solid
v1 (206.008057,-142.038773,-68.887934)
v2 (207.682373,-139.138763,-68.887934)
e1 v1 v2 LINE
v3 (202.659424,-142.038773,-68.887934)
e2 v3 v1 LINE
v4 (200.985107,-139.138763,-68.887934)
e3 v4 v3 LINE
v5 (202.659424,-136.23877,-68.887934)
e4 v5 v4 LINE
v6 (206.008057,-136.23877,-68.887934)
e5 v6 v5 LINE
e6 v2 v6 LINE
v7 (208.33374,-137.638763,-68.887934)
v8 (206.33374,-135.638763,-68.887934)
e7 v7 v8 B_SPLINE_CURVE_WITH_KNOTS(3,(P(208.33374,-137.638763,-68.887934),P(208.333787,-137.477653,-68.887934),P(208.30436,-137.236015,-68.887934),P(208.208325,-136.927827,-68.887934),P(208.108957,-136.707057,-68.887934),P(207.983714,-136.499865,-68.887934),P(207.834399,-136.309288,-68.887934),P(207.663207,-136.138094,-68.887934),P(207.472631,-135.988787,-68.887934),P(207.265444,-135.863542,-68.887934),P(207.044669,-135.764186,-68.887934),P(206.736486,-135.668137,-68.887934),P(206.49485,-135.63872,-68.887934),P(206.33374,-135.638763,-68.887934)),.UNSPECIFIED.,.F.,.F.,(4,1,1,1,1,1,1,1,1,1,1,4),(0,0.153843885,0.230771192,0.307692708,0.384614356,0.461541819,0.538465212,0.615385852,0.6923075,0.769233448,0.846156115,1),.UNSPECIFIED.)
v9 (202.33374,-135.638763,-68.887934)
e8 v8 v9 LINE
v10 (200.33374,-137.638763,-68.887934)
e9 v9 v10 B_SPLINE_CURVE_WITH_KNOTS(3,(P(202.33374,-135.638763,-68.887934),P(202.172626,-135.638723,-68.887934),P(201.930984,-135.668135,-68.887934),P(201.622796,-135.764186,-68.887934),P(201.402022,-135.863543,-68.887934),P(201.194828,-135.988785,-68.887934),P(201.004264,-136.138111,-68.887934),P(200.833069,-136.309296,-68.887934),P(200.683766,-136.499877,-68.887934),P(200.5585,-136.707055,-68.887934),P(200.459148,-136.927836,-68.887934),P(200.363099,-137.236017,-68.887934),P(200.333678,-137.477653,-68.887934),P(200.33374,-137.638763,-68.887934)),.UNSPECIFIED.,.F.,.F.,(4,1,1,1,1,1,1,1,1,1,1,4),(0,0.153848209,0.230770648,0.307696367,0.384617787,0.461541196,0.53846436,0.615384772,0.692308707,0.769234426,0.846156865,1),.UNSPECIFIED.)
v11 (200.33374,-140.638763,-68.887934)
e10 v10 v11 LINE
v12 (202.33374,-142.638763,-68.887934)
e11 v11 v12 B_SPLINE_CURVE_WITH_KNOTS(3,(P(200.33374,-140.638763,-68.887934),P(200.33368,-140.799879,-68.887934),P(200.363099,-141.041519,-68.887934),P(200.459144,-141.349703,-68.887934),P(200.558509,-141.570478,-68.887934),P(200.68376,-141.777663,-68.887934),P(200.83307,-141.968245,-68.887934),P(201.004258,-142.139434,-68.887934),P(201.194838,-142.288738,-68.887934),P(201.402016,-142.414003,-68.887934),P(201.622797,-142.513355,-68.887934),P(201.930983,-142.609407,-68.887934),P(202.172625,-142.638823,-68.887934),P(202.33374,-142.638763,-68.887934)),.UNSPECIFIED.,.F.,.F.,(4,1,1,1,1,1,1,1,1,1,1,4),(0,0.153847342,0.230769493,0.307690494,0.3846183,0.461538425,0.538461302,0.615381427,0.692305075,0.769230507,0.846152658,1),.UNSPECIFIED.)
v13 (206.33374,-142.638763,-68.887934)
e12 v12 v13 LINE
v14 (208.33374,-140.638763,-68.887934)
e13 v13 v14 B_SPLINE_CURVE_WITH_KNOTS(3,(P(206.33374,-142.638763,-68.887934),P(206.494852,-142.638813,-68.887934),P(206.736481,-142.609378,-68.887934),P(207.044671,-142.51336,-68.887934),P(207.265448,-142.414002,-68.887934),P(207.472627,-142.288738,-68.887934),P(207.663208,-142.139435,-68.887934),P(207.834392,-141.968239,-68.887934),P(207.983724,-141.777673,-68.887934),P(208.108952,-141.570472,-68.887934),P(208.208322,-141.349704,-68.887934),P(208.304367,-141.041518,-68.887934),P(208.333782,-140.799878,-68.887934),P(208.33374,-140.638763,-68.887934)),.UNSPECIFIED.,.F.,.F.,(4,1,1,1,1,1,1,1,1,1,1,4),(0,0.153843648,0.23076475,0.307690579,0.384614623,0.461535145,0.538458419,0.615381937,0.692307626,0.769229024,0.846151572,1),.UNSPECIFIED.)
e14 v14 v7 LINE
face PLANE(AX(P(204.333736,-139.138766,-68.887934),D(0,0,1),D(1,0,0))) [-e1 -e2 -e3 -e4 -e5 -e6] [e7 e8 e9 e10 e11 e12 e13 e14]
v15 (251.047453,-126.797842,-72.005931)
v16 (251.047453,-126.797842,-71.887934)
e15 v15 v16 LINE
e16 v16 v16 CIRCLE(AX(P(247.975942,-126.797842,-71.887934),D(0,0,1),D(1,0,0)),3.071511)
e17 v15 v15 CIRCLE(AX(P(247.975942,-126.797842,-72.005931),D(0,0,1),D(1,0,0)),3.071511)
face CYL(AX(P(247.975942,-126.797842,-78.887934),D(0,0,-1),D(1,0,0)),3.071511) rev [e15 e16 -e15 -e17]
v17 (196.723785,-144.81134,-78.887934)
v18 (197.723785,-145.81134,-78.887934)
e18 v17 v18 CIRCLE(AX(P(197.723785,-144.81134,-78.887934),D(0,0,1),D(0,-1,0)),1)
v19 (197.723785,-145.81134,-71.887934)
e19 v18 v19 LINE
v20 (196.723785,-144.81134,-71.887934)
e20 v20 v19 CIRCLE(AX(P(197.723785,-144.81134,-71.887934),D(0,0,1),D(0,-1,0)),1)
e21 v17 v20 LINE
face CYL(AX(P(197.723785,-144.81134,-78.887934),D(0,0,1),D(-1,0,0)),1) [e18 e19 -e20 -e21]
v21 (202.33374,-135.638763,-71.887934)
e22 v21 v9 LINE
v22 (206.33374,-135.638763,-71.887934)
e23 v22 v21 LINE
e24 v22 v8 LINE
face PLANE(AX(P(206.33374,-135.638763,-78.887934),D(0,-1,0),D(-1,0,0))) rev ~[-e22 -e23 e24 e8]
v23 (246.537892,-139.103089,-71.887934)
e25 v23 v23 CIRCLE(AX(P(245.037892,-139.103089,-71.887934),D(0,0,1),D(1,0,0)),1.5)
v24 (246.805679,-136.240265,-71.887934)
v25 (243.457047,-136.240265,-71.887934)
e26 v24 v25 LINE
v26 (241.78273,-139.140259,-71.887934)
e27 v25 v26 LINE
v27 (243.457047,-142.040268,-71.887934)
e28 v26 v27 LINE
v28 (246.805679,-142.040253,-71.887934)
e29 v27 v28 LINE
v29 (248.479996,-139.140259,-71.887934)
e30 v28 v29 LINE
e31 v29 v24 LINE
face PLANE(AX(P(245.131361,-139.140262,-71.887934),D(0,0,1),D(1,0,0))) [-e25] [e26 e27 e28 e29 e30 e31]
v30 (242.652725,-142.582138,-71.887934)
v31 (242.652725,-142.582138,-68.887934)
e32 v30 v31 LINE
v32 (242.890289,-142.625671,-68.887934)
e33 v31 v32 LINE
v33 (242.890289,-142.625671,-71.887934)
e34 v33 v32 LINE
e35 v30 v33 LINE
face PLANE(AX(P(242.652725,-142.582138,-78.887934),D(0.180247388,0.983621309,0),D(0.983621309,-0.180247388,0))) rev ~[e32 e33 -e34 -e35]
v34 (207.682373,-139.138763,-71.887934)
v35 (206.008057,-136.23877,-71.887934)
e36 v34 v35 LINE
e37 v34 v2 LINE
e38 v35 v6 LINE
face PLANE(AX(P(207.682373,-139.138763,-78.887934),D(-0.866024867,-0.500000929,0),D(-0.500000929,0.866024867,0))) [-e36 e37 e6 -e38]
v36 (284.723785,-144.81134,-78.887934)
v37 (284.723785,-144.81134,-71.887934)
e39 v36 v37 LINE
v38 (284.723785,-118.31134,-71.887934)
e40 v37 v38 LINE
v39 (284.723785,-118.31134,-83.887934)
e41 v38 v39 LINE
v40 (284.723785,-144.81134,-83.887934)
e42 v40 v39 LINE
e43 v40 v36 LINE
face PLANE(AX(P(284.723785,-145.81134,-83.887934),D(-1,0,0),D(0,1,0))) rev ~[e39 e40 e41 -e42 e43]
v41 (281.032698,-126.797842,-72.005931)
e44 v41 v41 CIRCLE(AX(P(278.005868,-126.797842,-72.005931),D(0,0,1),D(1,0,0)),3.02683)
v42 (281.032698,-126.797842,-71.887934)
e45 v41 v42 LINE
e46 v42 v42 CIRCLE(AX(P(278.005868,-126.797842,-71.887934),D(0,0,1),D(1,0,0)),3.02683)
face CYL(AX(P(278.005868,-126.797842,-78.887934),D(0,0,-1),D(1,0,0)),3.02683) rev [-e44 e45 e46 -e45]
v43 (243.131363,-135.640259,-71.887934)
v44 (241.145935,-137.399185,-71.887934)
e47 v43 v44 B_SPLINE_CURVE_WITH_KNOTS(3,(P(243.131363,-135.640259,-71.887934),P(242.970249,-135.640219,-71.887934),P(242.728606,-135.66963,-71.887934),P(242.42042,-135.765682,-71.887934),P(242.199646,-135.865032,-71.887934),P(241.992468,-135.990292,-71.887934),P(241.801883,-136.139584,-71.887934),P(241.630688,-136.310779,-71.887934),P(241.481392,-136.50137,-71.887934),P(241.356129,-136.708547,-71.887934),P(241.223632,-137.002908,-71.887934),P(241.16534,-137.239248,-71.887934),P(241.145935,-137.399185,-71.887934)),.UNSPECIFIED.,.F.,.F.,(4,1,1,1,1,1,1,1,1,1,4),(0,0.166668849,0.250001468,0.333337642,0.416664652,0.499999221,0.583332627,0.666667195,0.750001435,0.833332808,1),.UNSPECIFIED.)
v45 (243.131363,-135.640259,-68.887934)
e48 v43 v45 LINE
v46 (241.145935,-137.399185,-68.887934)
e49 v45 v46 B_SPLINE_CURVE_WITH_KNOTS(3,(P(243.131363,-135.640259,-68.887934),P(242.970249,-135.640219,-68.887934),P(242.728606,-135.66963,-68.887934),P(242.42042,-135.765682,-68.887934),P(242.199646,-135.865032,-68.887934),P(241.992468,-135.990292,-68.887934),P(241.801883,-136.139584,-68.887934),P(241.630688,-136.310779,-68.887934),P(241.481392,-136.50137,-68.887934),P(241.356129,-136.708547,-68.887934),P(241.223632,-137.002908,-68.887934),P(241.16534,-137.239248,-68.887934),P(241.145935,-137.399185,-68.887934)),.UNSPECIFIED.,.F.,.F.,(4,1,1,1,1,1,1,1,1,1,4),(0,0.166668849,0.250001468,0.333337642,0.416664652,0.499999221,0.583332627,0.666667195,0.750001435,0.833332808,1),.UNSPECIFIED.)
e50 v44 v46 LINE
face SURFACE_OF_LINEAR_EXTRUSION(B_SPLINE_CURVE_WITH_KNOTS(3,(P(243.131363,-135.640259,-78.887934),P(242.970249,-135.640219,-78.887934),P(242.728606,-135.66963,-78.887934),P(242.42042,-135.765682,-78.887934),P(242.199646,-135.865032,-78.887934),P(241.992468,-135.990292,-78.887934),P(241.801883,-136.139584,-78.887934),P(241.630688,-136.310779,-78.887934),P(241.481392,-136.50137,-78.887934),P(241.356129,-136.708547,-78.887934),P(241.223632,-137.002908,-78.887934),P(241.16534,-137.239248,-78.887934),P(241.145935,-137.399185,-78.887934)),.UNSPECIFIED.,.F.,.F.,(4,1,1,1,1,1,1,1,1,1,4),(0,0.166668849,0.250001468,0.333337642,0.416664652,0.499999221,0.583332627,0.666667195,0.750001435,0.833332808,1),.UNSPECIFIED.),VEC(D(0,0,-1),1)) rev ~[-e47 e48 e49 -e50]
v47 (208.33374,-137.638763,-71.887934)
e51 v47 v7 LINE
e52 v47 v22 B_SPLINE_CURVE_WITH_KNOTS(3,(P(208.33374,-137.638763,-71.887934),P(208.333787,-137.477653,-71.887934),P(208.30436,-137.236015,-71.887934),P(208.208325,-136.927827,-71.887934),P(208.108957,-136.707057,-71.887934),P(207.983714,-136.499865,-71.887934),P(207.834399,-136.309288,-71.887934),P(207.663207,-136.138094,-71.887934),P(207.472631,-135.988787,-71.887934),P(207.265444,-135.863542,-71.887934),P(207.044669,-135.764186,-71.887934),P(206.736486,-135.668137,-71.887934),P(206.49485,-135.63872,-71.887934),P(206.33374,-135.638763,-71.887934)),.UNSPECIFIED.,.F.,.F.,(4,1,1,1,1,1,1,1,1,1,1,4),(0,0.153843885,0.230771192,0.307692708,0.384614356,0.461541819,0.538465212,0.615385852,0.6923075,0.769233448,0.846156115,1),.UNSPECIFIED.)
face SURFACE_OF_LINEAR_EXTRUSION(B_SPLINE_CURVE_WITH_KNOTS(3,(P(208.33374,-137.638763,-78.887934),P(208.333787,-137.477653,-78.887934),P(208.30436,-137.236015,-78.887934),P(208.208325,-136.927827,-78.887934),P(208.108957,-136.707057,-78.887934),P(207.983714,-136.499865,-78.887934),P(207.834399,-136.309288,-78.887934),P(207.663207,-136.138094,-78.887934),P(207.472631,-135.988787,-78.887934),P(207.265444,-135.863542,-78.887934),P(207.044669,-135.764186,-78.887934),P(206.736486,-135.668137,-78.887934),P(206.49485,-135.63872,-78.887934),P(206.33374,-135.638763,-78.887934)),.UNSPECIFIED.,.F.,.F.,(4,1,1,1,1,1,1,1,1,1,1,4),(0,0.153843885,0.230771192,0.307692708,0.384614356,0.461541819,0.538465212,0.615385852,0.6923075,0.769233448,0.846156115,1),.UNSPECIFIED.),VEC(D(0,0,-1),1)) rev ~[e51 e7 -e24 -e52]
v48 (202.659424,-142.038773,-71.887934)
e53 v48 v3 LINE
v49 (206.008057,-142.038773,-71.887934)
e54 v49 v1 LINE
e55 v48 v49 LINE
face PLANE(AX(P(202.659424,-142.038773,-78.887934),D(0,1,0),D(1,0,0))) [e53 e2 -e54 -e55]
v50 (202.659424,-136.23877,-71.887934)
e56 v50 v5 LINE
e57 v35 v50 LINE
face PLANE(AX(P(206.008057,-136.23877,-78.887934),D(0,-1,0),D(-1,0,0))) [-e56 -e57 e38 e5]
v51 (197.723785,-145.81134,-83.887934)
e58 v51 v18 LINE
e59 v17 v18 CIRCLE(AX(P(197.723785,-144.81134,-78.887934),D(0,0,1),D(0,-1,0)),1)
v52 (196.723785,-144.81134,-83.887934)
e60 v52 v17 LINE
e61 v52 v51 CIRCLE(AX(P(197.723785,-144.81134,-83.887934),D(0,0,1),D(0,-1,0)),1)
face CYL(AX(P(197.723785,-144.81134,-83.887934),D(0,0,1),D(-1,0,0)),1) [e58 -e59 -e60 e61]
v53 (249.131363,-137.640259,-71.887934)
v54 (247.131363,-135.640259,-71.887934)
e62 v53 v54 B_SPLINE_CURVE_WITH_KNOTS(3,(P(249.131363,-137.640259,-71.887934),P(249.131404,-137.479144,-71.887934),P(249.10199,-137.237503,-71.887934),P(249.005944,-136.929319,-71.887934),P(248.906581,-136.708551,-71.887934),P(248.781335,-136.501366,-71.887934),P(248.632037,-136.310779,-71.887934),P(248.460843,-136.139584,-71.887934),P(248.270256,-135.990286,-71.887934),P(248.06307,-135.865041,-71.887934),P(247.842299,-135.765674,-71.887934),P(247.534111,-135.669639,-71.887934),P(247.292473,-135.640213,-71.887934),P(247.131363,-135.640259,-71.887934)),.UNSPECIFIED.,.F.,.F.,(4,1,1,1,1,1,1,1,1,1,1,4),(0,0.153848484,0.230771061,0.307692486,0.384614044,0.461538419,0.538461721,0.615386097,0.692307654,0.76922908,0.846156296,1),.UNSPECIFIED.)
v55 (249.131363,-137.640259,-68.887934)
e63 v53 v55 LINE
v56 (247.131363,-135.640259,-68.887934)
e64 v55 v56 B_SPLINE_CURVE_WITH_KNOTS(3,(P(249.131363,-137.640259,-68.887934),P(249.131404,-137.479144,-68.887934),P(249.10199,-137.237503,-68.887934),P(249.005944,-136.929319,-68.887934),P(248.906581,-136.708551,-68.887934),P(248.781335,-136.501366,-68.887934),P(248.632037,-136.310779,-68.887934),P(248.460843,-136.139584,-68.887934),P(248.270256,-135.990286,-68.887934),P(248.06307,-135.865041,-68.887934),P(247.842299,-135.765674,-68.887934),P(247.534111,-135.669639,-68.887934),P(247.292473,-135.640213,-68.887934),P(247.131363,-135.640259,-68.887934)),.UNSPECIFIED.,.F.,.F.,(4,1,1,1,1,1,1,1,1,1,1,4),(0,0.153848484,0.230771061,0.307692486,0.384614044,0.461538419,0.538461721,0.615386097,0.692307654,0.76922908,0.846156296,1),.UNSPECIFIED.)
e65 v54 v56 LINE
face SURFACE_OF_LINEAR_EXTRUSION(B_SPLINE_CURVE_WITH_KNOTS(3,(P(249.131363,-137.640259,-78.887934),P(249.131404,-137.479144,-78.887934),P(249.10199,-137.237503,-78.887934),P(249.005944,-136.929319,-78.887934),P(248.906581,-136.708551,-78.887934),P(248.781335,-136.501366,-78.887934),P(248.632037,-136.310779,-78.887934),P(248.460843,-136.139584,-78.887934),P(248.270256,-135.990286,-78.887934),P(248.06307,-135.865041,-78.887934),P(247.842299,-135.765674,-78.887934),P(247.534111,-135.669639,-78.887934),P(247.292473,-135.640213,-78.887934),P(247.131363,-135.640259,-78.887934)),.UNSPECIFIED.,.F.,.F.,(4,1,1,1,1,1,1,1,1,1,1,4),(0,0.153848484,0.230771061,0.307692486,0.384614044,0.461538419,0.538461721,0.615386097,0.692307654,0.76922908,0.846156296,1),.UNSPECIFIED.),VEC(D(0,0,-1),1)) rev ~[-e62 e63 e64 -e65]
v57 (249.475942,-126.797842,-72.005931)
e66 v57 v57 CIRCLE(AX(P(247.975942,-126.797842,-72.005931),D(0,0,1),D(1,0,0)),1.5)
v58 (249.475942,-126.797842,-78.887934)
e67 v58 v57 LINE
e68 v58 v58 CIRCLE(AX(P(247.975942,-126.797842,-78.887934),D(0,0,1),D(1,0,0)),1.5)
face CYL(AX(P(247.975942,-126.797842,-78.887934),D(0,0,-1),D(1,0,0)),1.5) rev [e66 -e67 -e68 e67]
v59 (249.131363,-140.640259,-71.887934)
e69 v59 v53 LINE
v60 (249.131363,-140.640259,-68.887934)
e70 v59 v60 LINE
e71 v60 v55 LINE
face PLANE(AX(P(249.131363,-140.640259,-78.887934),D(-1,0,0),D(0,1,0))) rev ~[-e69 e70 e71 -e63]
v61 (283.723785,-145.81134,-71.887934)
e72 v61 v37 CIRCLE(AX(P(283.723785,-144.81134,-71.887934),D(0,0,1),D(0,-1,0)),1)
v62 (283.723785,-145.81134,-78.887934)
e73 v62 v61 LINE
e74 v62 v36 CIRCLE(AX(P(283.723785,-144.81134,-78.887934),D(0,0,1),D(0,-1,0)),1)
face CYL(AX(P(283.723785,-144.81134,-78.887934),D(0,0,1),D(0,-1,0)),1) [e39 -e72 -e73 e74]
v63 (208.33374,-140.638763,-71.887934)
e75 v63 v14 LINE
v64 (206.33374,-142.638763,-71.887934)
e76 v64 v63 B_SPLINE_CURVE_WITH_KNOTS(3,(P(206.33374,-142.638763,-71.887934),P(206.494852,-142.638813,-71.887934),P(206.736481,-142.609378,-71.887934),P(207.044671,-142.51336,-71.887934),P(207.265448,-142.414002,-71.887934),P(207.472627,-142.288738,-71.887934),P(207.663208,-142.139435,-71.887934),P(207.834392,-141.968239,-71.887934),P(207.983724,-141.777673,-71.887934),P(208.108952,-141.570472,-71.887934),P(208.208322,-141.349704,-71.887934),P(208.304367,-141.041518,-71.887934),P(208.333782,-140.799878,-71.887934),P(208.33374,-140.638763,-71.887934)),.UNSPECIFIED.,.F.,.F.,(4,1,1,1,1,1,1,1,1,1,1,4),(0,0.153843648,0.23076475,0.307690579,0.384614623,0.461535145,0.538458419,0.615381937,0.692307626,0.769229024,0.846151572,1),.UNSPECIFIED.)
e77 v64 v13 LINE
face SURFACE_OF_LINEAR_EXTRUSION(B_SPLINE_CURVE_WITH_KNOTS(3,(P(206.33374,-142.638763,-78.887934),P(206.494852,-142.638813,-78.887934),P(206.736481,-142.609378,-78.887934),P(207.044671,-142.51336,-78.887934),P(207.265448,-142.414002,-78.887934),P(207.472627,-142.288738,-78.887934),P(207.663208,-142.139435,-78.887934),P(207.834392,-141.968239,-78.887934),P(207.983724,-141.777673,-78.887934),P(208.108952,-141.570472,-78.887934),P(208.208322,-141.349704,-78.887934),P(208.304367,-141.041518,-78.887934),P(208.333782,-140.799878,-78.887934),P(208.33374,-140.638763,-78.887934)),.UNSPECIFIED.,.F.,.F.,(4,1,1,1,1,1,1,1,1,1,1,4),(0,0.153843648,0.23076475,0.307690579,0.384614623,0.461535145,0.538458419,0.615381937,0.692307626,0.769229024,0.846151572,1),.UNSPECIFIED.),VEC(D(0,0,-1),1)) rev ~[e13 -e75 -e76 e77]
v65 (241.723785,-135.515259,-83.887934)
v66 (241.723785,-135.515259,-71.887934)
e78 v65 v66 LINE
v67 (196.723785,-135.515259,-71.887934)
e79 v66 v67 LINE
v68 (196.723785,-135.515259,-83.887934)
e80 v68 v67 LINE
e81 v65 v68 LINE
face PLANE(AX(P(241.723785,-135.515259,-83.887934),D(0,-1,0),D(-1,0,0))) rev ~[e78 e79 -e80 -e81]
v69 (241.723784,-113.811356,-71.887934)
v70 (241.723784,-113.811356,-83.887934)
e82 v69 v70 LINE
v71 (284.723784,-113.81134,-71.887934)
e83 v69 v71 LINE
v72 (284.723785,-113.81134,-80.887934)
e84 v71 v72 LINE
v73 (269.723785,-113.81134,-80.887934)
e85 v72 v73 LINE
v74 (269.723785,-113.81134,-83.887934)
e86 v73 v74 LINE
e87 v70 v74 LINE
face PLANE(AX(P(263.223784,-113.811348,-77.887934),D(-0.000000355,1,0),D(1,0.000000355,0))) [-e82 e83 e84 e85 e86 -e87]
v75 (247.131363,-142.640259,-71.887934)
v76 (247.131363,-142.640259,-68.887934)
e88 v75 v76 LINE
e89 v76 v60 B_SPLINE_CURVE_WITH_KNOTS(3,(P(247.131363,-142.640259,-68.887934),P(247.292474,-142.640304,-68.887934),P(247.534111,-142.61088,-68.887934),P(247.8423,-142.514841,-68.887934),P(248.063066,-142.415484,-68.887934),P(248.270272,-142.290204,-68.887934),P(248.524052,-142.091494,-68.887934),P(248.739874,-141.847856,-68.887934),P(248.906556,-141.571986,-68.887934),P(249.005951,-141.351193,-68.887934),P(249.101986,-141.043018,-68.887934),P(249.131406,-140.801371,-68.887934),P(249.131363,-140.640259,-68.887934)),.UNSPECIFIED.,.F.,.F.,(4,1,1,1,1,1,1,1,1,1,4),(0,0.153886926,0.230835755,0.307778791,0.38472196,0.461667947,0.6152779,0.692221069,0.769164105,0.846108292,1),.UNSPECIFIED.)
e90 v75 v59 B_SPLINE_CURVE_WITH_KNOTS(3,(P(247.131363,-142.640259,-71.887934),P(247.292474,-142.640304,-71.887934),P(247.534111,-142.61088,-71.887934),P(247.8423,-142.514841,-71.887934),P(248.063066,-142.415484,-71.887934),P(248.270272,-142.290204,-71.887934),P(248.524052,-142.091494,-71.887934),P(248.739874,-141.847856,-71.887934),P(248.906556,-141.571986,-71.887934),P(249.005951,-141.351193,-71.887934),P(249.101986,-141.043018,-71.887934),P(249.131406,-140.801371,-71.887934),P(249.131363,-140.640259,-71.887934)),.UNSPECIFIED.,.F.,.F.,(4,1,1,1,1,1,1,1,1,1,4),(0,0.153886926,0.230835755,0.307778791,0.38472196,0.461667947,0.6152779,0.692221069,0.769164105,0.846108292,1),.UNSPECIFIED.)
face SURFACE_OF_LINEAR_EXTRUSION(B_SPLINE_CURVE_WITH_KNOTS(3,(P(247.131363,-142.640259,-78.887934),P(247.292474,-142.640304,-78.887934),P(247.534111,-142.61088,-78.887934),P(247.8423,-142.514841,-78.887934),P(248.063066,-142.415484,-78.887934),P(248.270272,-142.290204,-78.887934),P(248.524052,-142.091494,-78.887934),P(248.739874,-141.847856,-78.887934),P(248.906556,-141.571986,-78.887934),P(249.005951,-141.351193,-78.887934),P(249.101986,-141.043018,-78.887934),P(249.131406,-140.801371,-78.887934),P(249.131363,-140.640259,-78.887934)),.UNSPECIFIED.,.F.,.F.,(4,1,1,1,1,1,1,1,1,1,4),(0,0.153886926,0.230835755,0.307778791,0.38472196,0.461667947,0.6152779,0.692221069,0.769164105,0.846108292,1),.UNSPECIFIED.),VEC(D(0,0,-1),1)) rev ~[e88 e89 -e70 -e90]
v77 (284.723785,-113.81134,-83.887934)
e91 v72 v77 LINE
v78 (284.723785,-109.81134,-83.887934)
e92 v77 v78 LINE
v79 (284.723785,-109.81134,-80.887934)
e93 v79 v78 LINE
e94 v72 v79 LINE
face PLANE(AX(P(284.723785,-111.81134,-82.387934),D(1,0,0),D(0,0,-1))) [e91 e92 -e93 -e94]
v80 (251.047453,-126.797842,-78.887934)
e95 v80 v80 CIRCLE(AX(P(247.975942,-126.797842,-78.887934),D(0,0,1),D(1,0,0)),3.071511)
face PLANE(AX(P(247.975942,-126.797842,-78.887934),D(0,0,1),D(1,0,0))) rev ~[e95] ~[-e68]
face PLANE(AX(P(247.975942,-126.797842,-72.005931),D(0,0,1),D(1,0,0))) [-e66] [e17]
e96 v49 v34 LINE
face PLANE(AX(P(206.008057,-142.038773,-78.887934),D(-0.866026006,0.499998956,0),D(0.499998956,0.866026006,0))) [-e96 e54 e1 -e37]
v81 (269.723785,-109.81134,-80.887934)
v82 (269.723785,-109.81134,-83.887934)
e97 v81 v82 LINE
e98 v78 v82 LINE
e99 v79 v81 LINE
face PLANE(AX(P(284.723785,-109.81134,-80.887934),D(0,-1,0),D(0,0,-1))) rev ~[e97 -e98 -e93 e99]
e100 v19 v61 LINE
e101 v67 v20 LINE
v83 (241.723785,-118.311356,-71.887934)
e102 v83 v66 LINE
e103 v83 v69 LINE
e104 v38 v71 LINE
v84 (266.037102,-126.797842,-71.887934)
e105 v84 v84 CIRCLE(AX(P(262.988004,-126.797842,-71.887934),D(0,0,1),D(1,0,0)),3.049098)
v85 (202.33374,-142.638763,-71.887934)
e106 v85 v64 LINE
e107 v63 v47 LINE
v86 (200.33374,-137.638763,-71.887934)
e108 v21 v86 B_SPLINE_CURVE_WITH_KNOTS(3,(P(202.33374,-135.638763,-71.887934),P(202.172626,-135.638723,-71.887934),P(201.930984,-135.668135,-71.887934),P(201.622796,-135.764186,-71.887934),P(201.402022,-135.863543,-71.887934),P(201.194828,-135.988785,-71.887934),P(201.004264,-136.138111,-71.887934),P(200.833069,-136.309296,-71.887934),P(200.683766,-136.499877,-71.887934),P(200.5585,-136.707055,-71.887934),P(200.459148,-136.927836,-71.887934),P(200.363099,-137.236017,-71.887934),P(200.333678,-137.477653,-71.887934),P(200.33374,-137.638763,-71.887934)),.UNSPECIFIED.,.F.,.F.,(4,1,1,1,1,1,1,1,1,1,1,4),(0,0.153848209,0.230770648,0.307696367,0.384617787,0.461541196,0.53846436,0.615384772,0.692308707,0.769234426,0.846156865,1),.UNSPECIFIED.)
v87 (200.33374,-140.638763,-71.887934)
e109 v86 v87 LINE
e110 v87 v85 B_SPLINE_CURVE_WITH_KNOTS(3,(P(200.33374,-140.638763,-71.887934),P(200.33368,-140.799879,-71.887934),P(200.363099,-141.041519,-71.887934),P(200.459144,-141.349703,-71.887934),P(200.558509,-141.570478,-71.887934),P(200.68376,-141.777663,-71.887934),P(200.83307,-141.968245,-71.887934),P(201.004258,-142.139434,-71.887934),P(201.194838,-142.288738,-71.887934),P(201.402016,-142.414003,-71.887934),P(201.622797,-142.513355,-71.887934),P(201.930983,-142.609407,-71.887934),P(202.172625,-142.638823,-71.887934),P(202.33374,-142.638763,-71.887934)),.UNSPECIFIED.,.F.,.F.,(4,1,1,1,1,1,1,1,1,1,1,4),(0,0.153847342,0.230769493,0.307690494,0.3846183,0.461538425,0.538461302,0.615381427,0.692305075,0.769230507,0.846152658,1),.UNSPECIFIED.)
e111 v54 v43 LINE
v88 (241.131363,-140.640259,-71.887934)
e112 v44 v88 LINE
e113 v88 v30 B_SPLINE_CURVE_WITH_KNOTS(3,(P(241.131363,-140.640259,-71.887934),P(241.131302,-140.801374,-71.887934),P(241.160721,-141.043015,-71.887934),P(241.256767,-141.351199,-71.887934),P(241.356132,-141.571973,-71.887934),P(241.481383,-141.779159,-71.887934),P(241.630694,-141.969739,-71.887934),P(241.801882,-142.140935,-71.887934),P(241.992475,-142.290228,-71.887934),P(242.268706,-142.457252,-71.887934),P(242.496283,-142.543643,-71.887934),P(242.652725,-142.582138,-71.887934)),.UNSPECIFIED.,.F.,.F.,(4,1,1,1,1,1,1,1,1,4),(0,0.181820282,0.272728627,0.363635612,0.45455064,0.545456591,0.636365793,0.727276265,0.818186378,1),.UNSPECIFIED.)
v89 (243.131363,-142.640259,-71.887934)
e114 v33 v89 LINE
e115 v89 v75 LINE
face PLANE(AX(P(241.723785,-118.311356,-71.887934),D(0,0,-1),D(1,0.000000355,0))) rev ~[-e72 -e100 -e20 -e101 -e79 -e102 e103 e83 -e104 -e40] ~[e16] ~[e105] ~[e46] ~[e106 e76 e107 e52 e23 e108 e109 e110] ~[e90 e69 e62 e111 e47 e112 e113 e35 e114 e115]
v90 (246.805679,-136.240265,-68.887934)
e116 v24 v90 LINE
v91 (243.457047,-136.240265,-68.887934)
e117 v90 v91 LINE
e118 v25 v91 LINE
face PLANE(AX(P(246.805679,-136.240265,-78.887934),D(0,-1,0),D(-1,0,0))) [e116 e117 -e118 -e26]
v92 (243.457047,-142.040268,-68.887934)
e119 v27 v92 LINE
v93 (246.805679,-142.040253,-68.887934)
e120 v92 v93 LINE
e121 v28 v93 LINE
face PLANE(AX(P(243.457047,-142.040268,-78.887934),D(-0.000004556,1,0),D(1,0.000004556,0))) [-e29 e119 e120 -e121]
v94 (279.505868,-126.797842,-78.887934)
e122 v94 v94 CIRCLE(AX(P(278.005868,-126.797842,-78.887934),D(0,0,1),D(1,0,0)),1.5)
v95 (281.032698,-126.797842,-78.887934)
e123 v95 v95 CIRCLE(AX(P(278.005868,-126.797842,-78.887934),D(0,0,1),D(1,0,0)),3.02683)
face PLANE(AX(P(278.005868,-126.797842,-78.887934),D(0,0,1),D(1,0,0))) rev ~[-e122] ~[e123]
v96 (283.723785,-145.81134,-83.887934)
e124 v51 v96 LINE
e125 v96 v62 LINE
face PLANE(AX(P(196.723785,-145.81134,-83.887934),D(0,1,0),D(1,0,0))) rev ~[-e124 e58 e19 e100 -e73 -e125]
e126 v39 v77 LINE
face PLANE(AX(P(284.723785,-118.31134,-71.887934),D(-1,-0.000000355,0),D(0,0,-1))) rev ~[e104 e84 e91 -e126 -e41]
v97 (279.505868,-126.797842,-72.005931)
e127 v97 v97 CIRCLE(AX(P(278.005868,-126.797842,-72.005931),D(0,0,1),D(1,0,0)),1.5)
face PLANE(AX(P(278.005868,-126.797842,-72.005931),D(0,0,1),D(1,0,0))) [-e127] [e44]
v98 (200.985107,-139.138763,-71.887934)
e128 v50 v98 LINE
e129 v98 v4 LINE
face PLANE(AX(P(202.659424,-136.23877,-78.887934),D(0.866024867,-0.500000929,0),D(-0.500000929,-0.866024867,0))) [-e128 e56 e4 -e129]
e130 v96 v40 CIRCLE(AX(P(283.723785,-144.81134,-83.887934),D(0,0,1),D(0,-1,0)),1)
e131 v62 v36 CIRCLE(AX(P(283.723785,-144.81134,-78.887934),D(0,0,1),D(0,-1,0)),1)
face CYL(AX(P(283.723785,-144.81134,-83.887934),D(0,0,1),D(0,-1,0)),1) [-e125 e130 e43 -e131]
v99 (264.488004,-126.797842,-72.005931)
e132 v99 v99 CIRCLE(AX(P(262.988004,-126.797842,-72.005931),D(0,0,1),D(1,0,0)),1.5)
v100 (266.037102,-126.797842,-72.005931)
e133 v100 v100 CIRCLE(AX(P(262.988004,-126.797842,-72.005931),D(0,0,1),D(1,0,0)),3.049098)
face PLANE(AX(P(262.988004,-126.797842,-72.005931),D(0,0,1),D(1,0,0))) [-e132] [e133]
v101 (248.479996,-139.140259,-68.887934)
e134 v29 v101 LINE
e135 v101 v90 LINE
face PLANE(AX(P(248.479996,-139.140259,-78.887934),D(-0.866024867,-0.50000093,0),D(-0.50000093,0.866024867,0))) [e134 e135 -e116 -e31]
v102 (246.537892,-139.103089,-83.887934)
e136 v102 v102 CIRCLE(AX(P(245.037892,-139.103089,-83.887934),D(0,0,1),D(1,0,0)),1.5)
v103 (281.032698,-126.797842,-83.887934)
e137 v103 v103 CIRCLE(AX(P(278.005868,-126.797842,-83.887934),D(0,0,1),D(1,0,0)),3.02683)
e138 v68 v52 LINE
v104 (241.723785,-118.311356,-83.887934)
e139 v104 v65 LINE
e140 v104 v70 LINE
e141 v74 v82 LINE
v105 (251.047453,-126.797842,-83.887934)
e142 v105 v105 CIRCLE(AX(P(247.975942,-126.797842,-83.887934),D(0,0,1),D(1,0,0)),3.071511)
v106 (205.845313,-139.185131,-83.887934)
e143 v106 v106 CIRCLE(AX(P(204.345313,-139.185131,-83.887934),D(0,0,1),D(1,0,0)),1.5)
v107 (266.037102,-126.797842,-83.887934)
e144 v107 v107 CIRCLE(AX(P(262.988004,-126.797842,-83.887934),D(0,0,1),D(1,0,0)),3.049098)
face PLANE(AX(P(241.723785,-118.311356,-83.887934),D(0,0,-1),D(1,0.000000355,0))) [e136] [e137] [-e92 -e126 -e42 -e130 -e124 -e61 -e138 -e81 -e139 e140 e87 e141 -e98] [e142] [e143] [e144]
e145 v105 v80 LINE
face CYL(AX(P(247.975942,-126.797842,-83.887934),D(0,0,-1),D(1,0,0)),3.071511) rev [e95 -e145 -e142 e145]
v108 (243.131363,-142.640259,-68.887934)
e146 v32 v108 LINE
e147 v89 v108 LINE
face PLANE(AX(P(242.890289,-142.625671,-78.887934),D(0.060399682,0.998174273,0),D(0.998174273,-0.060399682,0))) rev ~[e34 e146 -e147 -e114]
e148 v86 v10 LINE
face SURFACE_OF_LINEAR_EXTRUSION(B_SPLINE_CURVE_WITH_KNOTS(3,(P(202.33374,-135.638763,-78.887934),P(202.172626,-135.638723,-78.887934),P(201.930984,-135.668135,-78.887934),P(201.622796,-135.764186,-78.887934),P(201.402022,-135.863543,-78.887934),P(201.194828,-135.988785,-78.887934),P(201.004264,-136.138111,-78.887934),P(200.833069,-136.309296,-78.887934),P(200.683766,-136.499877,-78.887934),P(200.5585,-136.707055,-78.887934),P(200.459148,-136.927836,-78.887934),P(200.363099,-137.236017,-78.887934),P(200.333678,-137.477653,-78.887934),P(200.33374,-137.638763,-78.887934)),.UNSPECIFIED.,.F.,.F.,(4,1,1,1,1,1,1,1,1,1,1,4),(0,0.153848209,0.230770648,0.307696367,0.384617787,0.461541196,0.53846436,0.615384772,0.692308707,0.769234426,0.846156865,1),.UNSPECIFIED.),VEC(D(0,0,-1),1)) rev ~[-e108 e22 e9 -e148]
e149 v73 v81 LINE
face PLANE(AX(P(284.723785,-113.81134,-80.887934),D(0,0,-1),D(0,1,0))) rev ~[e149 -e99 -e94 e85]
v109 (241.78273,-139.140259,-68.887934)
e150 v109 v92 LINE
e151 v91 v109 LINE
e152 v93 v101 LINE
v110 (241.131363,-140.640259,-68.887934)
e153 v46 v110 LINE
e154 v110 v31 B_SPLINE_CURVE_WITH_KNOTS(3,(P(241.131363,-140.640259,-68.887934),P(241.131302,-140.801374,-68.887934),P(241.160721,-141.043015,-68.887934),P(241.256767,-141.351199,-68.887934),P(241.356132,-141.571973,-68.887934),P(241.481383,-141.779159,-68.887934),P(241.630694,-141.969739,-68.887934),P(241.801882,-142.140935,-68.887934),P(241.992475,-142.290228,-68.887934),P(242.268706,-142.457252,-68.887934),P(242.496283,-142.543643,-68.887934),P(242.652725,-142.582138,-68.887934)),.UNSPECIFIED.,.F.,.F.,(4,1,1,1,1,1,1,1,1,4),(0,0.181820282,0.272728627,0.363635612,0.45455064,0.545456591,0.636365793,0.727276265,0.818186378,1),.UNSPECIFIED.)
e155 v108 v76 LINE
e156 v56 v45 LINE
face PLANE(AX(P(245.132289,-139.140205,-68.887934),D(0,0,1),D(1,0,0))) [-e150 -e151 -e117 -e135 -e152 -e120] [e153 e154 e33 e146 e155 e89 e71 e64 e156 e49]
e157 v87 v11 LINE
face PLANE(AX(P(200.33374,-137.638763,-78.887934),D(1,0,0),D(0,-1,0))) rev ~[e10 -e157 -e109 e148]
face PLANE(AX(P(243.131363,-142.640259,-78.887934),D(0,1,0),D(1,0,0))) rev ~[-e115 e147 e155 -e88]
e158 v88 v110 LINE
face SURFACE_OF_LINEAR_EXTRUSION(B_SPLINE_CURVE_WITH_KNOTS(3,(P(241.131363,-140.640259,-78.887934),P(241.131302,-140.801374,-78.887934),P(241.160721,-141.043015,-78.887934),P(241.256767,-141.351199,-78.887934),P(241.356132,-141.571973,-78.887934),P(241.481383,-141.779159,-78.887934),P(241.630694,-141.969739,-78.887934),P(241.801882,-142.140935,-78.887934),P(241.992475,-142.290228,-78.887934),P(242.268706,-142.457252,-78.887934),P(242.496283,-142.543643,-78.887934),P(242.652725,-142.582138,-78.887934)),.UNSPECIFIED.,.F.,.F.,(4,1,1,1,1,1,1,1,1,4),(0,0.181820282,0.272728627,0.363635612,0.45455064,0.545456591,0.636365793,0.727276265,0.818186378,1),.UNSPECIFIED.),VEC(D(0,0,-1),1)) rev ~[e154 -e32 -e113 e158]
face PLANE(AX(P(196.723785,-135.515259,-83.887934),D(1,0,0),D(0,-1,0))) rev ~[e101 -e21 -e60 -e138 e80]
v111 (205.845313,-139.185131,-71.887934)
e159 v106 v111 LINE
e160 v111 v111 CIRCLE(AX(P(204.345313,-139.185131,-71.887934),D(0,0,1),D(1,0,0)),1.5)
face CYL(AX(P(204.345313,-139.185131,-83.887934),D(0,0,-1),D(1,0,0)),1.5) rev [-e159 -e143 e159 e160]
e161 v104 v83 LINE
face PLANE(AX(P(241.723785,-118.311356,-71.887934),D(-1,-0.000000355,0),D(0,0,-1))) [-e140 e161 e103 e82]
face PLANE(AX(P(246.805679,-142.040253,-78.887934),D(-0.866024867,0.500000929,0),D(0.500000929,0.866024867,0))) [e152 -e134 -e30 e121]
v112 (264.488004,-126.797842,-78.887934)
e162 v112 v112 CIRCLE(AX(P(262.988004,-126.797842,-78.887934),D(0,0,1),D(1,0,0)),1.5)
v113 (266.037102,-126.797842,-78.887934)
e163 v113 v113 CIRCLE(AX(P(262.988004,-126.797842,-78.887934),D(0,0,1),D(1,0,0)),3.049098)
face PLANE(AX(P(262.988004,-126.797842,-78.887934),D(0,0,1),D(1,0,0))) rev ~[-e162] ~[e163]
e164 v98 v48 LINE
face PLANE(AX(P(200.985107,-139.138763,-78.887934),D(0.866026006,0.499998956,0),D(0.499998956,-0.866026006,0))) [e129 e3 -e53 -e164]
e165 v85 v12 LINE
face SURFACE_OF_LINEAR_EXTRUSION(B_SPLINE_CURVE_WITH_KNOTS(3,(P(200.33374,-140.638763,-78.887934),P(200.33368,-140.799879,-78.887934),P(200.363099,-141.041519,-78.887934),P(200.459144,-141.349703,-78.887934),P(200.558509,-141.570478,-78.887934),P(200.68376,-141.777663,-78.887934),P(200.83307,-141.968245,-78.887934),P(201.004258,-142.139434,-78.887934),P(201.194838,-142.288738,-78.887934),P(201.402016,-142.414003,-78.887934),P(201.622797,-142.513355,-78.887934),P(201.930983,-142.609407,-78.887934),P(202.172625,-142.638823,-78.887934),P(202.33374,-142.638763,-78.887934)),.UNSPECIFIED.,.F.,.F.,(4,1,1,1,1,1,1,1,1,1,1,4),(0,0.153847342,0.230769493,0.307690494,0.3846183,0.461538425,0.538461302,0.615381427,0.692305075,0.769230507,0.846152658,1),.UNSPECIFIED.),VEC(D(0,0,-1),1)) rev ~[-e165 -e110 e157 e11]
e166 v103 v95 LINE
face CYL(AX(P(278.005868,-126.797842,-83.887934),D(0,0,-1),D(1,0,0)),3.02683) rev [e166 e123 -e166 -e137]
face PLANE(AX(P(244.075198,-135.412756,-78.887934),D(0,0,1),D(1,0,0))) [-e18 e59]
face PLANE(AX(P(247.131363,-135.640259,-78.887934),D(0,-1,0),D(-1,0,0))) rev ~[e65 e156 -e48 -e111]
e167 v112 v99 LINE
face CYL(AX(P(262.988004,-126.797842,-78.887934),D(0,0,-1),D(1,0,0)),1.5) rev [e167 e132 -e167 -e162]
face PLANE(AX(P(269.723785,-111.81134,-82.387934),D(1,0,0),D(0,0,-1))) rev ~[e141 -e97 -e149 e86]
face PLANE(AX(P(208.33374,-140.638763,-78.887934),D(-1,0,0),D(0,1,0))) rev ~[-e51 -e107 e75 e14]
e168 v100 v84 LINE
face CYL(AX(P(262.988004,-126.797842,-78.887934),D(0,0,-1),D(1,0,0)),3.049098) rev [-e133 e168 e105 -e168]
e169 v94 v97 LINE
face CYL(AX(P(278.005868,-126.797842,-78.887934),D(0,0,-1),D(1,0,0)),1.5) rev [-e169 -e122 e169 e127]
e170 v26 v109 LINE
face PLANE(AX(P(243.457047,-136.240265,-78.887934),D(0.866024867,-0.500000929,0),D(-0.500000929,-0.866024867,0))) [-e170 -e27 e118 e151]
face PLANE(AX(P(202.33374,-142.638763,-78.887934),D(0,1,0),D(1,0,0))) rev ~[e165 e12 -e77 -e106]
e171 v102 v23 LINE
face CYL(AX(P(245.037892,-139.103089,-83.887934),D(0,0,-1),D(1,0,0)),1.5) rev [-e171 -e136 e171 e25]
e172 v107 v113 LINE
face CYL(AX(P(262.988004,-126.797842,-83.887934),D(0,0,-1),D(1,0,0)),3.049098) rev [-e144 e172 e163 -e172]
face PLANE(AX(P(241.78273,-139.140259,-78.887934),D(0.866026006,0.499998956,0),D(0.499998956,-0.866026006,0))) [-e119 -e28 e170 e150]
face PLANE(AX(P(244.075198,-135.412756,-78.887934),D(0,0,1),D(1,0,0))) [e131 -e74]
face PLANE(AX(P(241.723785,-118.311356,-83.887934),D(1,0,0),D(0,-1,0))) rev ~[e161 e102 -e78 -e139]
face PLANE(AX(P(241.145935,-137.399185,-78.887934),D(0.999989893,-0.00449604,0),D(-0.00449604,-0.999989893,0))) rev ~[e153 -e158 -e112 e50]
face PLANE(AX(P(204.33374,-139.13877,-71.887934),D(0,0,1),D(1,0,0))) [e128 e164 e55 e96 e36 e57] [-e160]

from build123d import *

# Parameters (mm, degrees)
SKETCH3_R            = 3.071511102
SKETCH3_R_2          = 3.049098112
SKETCH3_R_3          = 3.026830266
BOSS_EXTRUDE4_DEPTH  = 7
BOSS_EXTRUDE5_DEPTH  = 10
SKETCH3_9_R          = 1.5
BOSS_EXTRUDE8_DEPTH  = 7
FILLET3_R            = 1
SKETCH3_11_R         = 1.5
BOSS_EXTRUDE10_DEPTH = 7
BOSS_EXTRUDE11_START = -3
SKETCH4_R            = 3.071511102
SKETCH4_R_2          = 1.5
SKETCH4_R_3          = 3.049098112
SKETCH4_R_4          = 3.026830266
BOSS_EXTRUDE11_DEPTH = 3
BOSS_EXTRUDE12_START = -5
SKETCH2_R            = 1.5
BOSS_EXTRUDE12_DEPTH = 5
CUT_EXTRUDE2_START   = -5
SKETCH3_14_R         = 3.071511102
SKETCH3_14_R_2       = 1.5
SKETCH3_14_R_3       = 3.049098112
SKETCH3_14_R_4       = 3.026830266
CUT_EXTRUDE2_DEPTH   = 5
SKETCH3_15_R         = 3.071511102
SKETCH3_15_R_2       = 1.5
SKETCH3_15_R_3       = 3.049098112
SKETCH3_15_R_4       = 3.026830266
BOSS_EXTRUDE13_DEPTH = 5
FILLET4_R            = 1
SKETCH5_W            = 43
SKETCH5_H            = 12
BOSS_EXTRUDE14_DEPTH = 4.5
SKETCH6_W            = 3
SKETCH6_H            = 4
BOSS_EXTRUDE15_DEPTH = 15


with BuildPart() as part:
    # Sketch3 → Boss-Extrude4 (new body)
    with BuildSketch(Plane.XY.offset(-78.887933846)):
        Polygon((241.7237854, -135.515258789), (196.7237854, -135.515258789), (196.7237854, -145.811340332), (284.7237854, -145.811340332), (284.7237854, -118.311340332), (241.7237854, -118.311355591), align=None)
        with BuildLine():
            Line((202.333740234, -135.638763428), (206.333740234, -135.638763428))
            add(Edge.make_bspline(
                [(208.333740234, -137.638763428), (208.333786551, -137.477652798), (208.304360012, -137.236015107), (208.208324965, -136.927827264), (208.108957041, -136.707056776), (207.983714409, -136.4998655), (207.834398535, -136.309288011), (207.663206588, -136.138093583), (207.472631269, -135.988786754), (207.265444017, -135.863541762), (207.044668555, -135.76418574), (206.736485734, -135.668137164), (206.494849845, -135.638720059), (206.333740234, -135.638763428)],
                knots=[0, 0, 0, 0, 0.153843885, 0.230771192, 0.307692708, 0.384614356, 0.461541819, 0.538465212, 0.615385852, 0.6923075, 0.769233448, 0.846156115, 1, 1, 1, 1], degree=3))
            Line((208.333740234, -137.638763428), (208.333740234, -140.638763428))
            add(Edge.make_bspline(
                [(206.333740234, -142.638763428), (206.494851569, -142.638812668), (206.736480774, -142.609378133), (207.044670851, -142.513359722), (207.265448484, -142.414001964), (207.472626549, -142.288737745), (207.663208089, -142.139434935), (207.834392335, -141.968239016), (207.98372428, -141.777673404), (208.108952276, -141.570471992), (208.208322321, -141.34970416), (208.304366785, -141.04151848), (208.3337818, -140.799878105), (208.333740234, -140.638763428)],
                knots=[0, 0, 0, 0, 0.153843648, 0.23076475, 0.307690579, 0.384614623, 0.461535145, 0.538458419, 0.615381937, 0.692307626, 0.769229024, 0.846151572, 1, 1, 1, 1], degree=3))
            Line((206.333740234, -142.638763428), (202.333740234, -142.638763428))
            add(Edge.make_bspline(
                [(200.333740234, -140.638763428), (200.33367962, -140.799878701), (200.363098614, -141.041519271), (200.459144013, -141.349703337), (200.558509164, -141.570477522), (200.683760458, -141.777663476), (200.833070439, -141.968244679), (201.004258341, -142.139434104), (201.19483844, -142.288737632), (201.402016388, -142.414003248), (201.622797313, -142.513355322), (201.93098344, -142.60940701), (202.172625437, -142.638823061), (202.333740234, -142.638763428)],
                knots=[0, 0, 0, 0, 0.153847342, 0.230769493, 0.307690494, 0.3846183, 0.461538425, 0.538461302, 0.615381427, 0.692305075, 0.769230507, 0.846152658, 1, 1, 1, 1], degree=3))
            Line((200.333740234, -140.638763428), (200.333740234, -137.638763428))
            add(Edge.make_bspline(
                [(202.333740234, -135.638763428), (202.172626031, -135.638722842), (201.930984234, -135.668134916), (201.622796485, -135.764185666), (201.402021935, -135.863542645), (201.194828451, -135.988784921), (201.004264234, -136.138110572), (200.83306875, -136.309295747), (200.683766235, -136.499877171), (200.558500403, -136.707054773), (200.459148182, -136.927835754), (200.363099055, -137.236017253), (200.333677741, -137.477653162), (200.333740234, -137.638763428)],
                knots=[0, 0, 0, 0, 0.153848209, 0.230770648, 0.307696367, 0.384617787, 0.461541196, 0.53846436, 0.615384772, 0.692308707, 0.769234426, 0.846156865, 1, 1, 1, 1], degree=3))
        make_face(mode=Mode.SUBTRACT)
        with BuildLine():
            Line((243.131362915, -135.640258789), (247.131362915, -135.640258789))
            add(Edge.make_bspline(
                [(249.131362915, -137.640258789), (249.131404103, -137.479144365), (249.101990222, -137.237503231), (249.005943868, -136.929318816), (248.906581, -136.708551356), (248.781335382, -136.501366051), (248.63203731, -136.310779003), (248.460842685, -136.139584426), (248.270255688, -135.99028621), (248.063070227, -135.865041119), (247.842298902, -135.765674289), (247.534111353, -135.669638858), (247.292473486, -135.64021255), (247.131362915, -135.640258789)],
                knots=[0, 0, 0, 0, 0.153848484, 0.230771061, 0.307692486, 0.384614044, 0.461538419, 0.538461721, 0.615386097, 0.692307654, 0.76922908, 0.846156296, 1, 1, 1, 1], degree=3))
            Line((249.131362915, -137.640258789), (249.131362915, -140.640258789))
            add(Edge.make_bspline(
                [(247.131362915, -142.640258789), (247.292473885, -142.640304371), (247.534110555, -142.610880035), (247.8423001, -142.514841317), (248.063065737, -142.415483854), (248.270272451, -142.290203759), (248.524051883, -142.091494389), (248.739873863, -141.847855516), (248.906555547, -141.571986273), (249.005950655, -141.351193415), (249.101985697, -141.043017912), (249.131406366, -140.801371431), (249.131362915, -140.640258789)],
                knots=[0, 0, 0, 0, 0.153886926, 0.230835755, 0.307778791, 0.38472196, 0.461667947, 0.6152779, 0.692221069, 0.769164105, 0.846108292, 1, 1, 1, 1], degree=3))
            Line((247.131362915, -142.640258789), (243.131362915, -142.640258789))
            Line((243.131362915, -142.640258789), (242.890289307, -142.625671387))
            Line((242.890289307, -142.625671387), (242.65272522, -142.582138062))
            add(Edge.make_bspline(
                [(241.131362915, -140.640258789), (241.131302298, -140.801374067), (241.160721302, -141.043014624), (241.256766684, -141.351198712), (241.356131884, -141.571972833), (241.481382994, -141.779159023), (241.63069366, -141.969739347), (241.801881842, -142.14093489), (241.992475128, -142.290228107), (242.26870618, -142.457251952), (242.496282789, -142.543643375), (242.65272522, -142.582138062)],
                knots=[0, 0, 0, 0, 0.181820282, 0.272728627, 0.363635612, 0.45455064, 0.545456591, 0.636365793, 0.727276265, 0.818186378, 1, 1, 1, 1], degree=3))
            Line((241.131362915, -140.640258789), (241.145935059, -137.399185181))
            add(Edge.make_bspline(
                [(243.131362915, -135.640258789), (242.970248964, -135.64021858), (242.728606411, -135.669629524), (242.420419921, -135.765682158), (242.199645762, -135.865031975), (241.992468308, -135.990291817), (241.801882944, -136.1395838), (241.630687723, -136.310778592), (241.481392209, -136.501370397), (241.356129478, -136.708547293), (241.223632459, -137.002908059), (241.165339975, -137.239248061), (241.145935059, -137.399185181)],
                knots=[0, 0, 0, 0, 0.166668849, 0.250001468, 0.333337642, 0.416664652, 0.499999221, 0.583332627, 0.666667195, 0.750001435, 0.833332808, 1, 1, 1, 1], degree=3))
        make_face(mode=Mode.SUBTRACT)
        with Locations((247.975942303, -126.797841972)):
            Circle(SKETCH3_R, mode=Mode.SUBTRACT)
        with Locations((262.988003667, -126.797841972)):
            Circle(SKETCH3_R_2, mode=Mode.SUBTRACT)
        with Locations((278.005868037, -126.797841972)):
            Circle(SKETCH3_R_3, mode=Mode.SUBTRACT)
    extrude(amount=BOSS_EXTRUDE4_DEPTH)

    # Sketch3<6> → Boss-Extrude5 (add)
    # profile 1 of 2: a face of its own
    with BuildSketch(Plane.XY.offset(-78.887933846)):
        with BuildLine():
            add(Edge.make_bspline(
                [(249.131362915, -137.640258789), (249.131404103, -137.479144365), (249.101990222, -137.237503231), (249.005943868, -136.929318816), (248.906581, -136.708551356), (248.781335382, -136.501366051), (248.63203731, -136.310779003), (248.460842685, -136.139584426), (248.270255688, -135.99028621), (248.063070227, -135.865041119), (247.842298902, -135.765674289), (247.534111353, -135.669638858), (247.292473486, -135.64021255), (247.131362915, -135.640258789)],
                knots=[0, 0, 0, 0, 0.153848484, 0.230771061, 0.307692486, 0.384614044, 0.461538419, 0.538461721, 0.615386097, 0.692307654, 0.76922908, 0.846156296, 1, 1, 1, 1], degree=3))
            Line((247.131362915, -135.640258789), (243.131362915, -135.640258789))
            add(Edge.make_bspline(
                [(243.131362915, -135.640258789), (242.970248964, -135.64021858), (242.728606411, -135.669629524), (242.420419921, -135.765682158), (242.199645762, -135.865031975), (241.992468308, -135.990291817), (241.801882944, -136.1395838), (241.630687723, -136.310778592), (241.481392209, -136.501370397), (241.356129478, -136.708547293), (241.223632459, -137.002908059), (241.165339975, -137.239248061), (241.145935059, -137.399185181)],
                knots=[0, 0, 0, 0, 0.166668849, 0.250001468, 0.333337642, 0.416664652, 0.499999221, 0.583332627, 0.666667195, 0.750001435, 0.833332808, 1, 1, 1, 1], degree=3))
            Line((241.145935059, -137.399185181), (241.131362915, -140.640258789))
            add(Edge.make_bspline(
                [(241.131362915, -140.640258789), (241.131302298, -140.801374067), (241.160721302, -141.043014624), (241.256766684, -141.351198712), (241.356131884, -141.571972833), (241.481382994, -141.779159023), (241.63069366, -141.969739347), (241.801881842, -142.14093489), (241.992475128, -142.290228107), (242.26870618, -142.457251952), (242.496282789, -142.543643375), (242.65272522, -142.582138062)],
                knots=[0, 0, 0, 0, 0.181820282, 0.272728627, 0.363635612, 0.45455064, 0.545456591, 0.636365793, 0.727276265, 0.818186378, 1, 1, 1, 1], degree=3))
            Line((242.65272522, -142.582138062), (242.890289307, -142.625671387))
            Line((242.890289307, -142.625671387), (243.131362915, -142.640258789))
            Line((243.131362915, -142.640258789), (247.131362915, -142.640258789))
            add(Edge.make_bspline(
                [(247.131362915, -142.640258789), (247.292473885, -142.640304371), (247.534110555, -142.610880035), (247.8423001, -142.514841317), (248.063065737, -142.415483854), (248.270272451, -142.290203759), (248.524051883, -142.091494389), (248.739873863, -141.847855516), (248.906555547, -141.571986273), (249.005950655, -141.351193415), (249.101985697, -141.043017912), (249.131406366, -140.801371431), (249.131362915, -140.640258789)],
                knots=[0, 0, 0, 0, 0.153886926, 0.230835755, 0.307778791, 0.38472196, 0.461667947, 0.6152779, 0.692221069, 0.769164105, 0.846108292, 1, 1, 1, 1], degree=3))
            Line((249.131362915, -140.640258789), (249.131362915, -137.640258789))
        make_face()
        Polygon((246.805679321, -136.240264893), (248.479995728, -139.140258789), (246.805679321, -142.040252686), (243.457046509, -142.040267944), (241.782730103, -139.140258789), (243.457046509, -136.240264893), align=None, mode=Mode.SUBTRACT)
    # profile 2 of 2: a face of its own
    with BuildSketch(Plane.XY.offset(-78.887933846)):
        with BuildLine():
            add(Edge.make_bspline(
                [(208.333740234, -137.638763428), (208.333786551, -137.477652798), (208.304360012, -137.236015107), (208.208324965, -136.927827264), (208.108957041, -136.707056776), (207.983714409, -136.4998655), (207.834398535, -136.309288011), (207.663206588, -136.138093583), (207.472631269, -135.988786754), (207.265444017, -135.863541762), (207.044668555, -135.76418574), (206.736485734, -135.668137164), (206.494849845, -135.638720059), (206.333740234, -135.638763428)],
                knots=[0, 0, 0, 0, 0.153843885, 0.230771192, 0.307692708, 0.384614356, 0.461541819, 0.538465212, 0.615385852, 0.6923075, 0.769233448, 0.846156115, 1, 1, 1, 1], degree=3))
            Line((206.333740234, -135.638763428), (202.333740234, -135.638763428))
            add(Edge.make_bspline(
                [(202.333740234, -135.638763428), (202.172626031, -135.638722842), (201.930984234, -135.668134916), (201.622796485, -135.764185666), (201.402021935, -135.863542645), (201.194828451, -135.988784921), (201.004264234, -136.138110572), (200.83306875, -136.309295747), (200.683766235, -136.499877171), (200.558500403, -136.707054773), (200.459148182, -136.927835754), (200.363099055, -137.236017253), (200.333677741, -137.477653162), (200.333740234, -137.638763428)],
                knots=[0, 0, 0, 0, 0.153848209, 0.230770648, 0.307696367, 0.384617787, 0.461541196, 0.53846436, 0.615384772, 0.692308707, 0.769234426, 0.846156865, 1, 1, 1, 1], degree=3))
            Line((200.333740234, -137.638763428), (200.333740234, -140.638763428))
            add(Edge.make_bspline(
                [(200.333740234, -140.638763428), (200.33367962, -140.799878701), (200.363098614, -141.041519271), (200.459144013, -141.349703337), (200.558509164, -141.570477522), (200.683760458, -141.777663476), (200.833070439, -141.968244679), (201.004258341, -142.139434104), (201.19483844, -142.288737632), (201.402016388, -142.414003248), (201.622797313, -142.513355322), (201.93098344, -142.60940701), (202.172625437, -142.638823061), (202.333740234, -142.638763428)],
                knots=[0, 0, 0, 0, 0.153847342, 0.230769493, 0.307690494, 0.3846183, 0.461538425, 0.538461302, 0.615381427, 0.692305075, 0.769230507, 0.846152658, 1, 1, 1, 1], degree=3))
            Line((202.333740234, -142.638763428), (206.333740234, -142.638763428))
            add(Edge.make_bspline(
                [(206.333740234, -142.638763428), (206.494851569, -142.638812668), (206.736480774, -142.609378133), (207.044670851, -142.513359722), (207.265448484, -142.414001964), (207.472626549, -142.288737745), (207.663208089, -142.139434935), (207.834392335, -141.968239016), (207.98372428, -141.777673404), (208.108952276, -141.570471992), (208.208322321, -141.34970416), (208.304366785, -141.04151848), (208.3337818, -140.799878105), (208.333740234, -140.638763428)],
                knots=[0, 0, 0, 0, 0.153843648, 0.23076475, 0.307690579, 0.384614623, 0.461535145, 0.538458419, 0.615381937, 0.692307626, 0.769229024, 0.846151572, 1, 1, 1, 1], degree=3))
            Line((208.333740234, -140.638763428), (208.333740234, -137.638763428))
        make_face()
        Polygon((202.659423828, -136.238769531), (206.008056641, -136.238769531), (207.682373047, -139.138763428), (206.008056641, -142.038772583), (202.659423828, -142.038772583), (200.985107422, -139.138763428), align=None, mode=Mode.SUBTRACT)
    extrude(amount=BOSS_EXTRUDE5_DEPTH)

    # Sketch3<9> → Boss-Extrude8 (add)
    with BuildSketch(Plane.XY.offset(-78.887933846)):
        Polygon((246.805679321, -142.040252686), (248.479995728, -139.140258789), (246.805679321, -136.240264893), (243.457046509, -136.240264893), (241.782730103, -139.140258789), (243.457046509, -142.040267944), align=None)
        with Locations((245.03789158, -139.10308916)):
            Circle(SKETCH3_9_R, mode=Mode.SUBTRACT)
    extrude(amount=BOSS_EXTRUDE8_DEPTH)

    # Fillet3
    fillet3_edges = [part.edges().sort_by_distance(p)[0] for p in [
        (284.7237854, -145.811340332, -75.387933846),
        (196.7237854, -145.811340332, -75.387933846),
    ]]
    fillet(fillet3_edges, radius=FILLET3_R)

    # Sketch3<11> → Boss-Extrude10 (add)
    with BuildSketch(Plane.XY.offset(-78.887933846)):
        Polygon((207.682373047, -139.138763428), (206.008056641, -136.238769531), (202.659423828, -136.238769531), (200.985107422, -139.138763428), (202.659423828, -142.038772583), (206.008056641, -142.038772583), align=None)
        with Locations((204.345312661, -139.185131247)):
            Circle(SKETCH3_11_R, mode=Mode.SUBTRACT)
    extrude(amount=BOSS_EXTRUDE10_DEPTH)

    # Sketch4 → Boss-Extrude11 (add)
    # profile 1 of 3: a face of its own
    with BuildSketch(Plane.XY.offset(-72.005930691).offset(BOSS_EXTRUDE11_START)):
        with Locations((247.975942303, -126.797841972)):
            Circle(SKETCH4_R)
        with Locations((247.975942303, -126.797841972)):
            Circle(SKETCH4_R_2, mode=Mode.SUBTRACT)
    # profile 2 of 3: a face of its own
    with BuildSketch(Plane.XY.offset(-72.005930691).offset(BOSS_EXTRUDE11_START)):
        with Locations((262.988003667, -126.797841972)):
            Circle(SKETCH4_R_3)
        with Locations((262.988003667, -126.797841972)):
            Circle(SKETCH4_R_2, mode=Mode.SUBTRACT)
    # profile 3 of 3: a face of its own
    with BuildSketch(Plane.XY.offset(-72.005930691).offset(BOSS_EXTRUDE11_START)):
        with Locations((278.005868037, -126.797841972)):
            Circle(SKETCH4_R_4)
        with Locations((278.005868037, -126.797841972)):
            Circle(SKETCH4_R_2, mode=Mode.SUBTRACT)
    extrude(amount=BOSS_EXTRUDE11_DEPTH)

    # Sketch2 → Boss-Extrude12 (add)
    with BuildSketch(Plane.XY.offset(-78.887933846).offset(BOSS_EXTRUDE12_START)):
        Polygon((284.7237854, -118.311340332), (241.7237854, -118.311355591), (241.7237854, -135.515258789), (196.7237854, -135.515258789), (196.7237854, -145.811340332), (284.7237854, -145.811340332), align=None)
        with Locations((278.005868037, -126.797841972)):
            Circle(SKETCH2_R, mode=Mode.SUBTRACT)
        with Locations((262.988003667, -126.797841972)):
            Circle(SKETCH2_R, mode=Mode.SUBTRACT)
        with Locations((247.975942303, -126.797841972)):
            Circle(SKETCH2_R, mode=Mode.SUBTRACT)
        with Locations((245.03789158, -139.10308916)):
            Circle(SKETCH2_R, mode=Mode.SUBTRACT)
        with Locations((204.345312661, -139.185131247)):
            Circle(SKETCH2_R, mode=Mode.SUBTRACT)
    extrude(amount=BOSS_EXTRUDE12_DEPTH)

    # Sketch3<14> → Cut-Extrude2 (cut)
    # profile 1 of 3: a face of its own
    with BuildSketch(Plane.XY.offset(-78.887933846).offset(CUT_EXTRUDE2_START)):
        with Locations((247.975942303, -126.797841972)):
            Circle(SKETCH3_14_R)
        with Locations((247.975942303, -126.797841972)):
            Circle(SKETCH3_14_R_2, mode=Mode.SUBTRACT)
    # profile 2 of 3: a face of its own
    with BuildSketch(Plane.XY.offset(-78.887933846).offset(CUT_EXTRUDE2_START)):
        with Locations((262.988003667, -126.797841972)):
            Circle(SKETCH3_14_R_3)
        with Locations((262.988003667, -126.797841972)):
            Circle(SKETCH3_14_R_2, mode=Mode.SUBTRACT)
    # profile 3 of 3: a face of its own
    with BuildSketch(Plane.XY.offset(-78.887933846).offset(CUT_EXTRUDE2_START)):
        with Locations((278.005868037, -126.797841972)):
            Circle(SKETCH3_14_R_4)
        with Locations((278.005868037, -126.797841972)):
            Circle(SKETCH3_14_R_2, mode=Mode.SUBTRACT)
    extrude(amount=CUT_EXTRUDE2_DEPTH, mode=Mode.SUBTRACT)

    # Sketch3<15> → Boss-Extrude13 (add)
    # profile 1 of 3: a face of its own
    with BuildSketch(Plane.XY.offset(-78.887933846)):
        with Locations((247.975942303, -126.797841972)):
            Circle(SKETCH3_15_R)
        with Locations((247.975942303, -126.797841972)):
            Circle(SKETCH3_15_R_2, mode=Mode.SUBTRACT)
    # profile 2 of 3: a face of its own
    with BuildSketch(Plane.XY.offset(-78.887933846)):
        with Locations((262.988003667, -126.797841972)):
            Circle(SKETCH3_15_R_3)
        with Locations((262.988003667, -126.797841972)):
            Circle(SKETCH3_15_R_2, mode=Mode.SUBTRACT)
    # profile 3 of 3: a face of its own
    with BuildSketch(Plane.XY.offset(-78.887933846)):
        with Locations((278.005868037, -126.797841972)):
            Circle(SKETCH3_15_R_4)
        with Locations((278.005868037, -126.797841972)):
            Circle(SKETCH3_15_R_2, mode=Mode.SUBTRACT)
    extrude(amount=BOSS_EXTRUDE13_DEPTH)

    # Fillet4
    fillet4_edges = [part.edges().sort_by_distance(p)[0] for p in [
        (196.7237854, -145.811340332, -81.387933846),
        (284.7237854, -145.811340332, -81.387933846),
    ]]
    fillet(fillet4_edges, radius=FILLET4_R)

    # Sketch5 → Boss-Extrude14 (add)
    with BuildSketch(Plane(origin=(4.1983e-05, -118.311441368, 0), x_dir=(0.9999999999999372, 3.548555596652948e-07, 0), z_dir=(-3.548555596652948e-07, 0.9999999999999372, 0))):
        with Locations((263.223743417, 77.887933846)):
            Rectangle(SKETCH5_W, SKETCH5_H)
    extrude(amount=BOSS_EXTRUDE14_DEPTH)


with BuildPart() as boss_extrude15_tool:
    # Sketch6 → Boss-Extrude15 (new body)
    with BuildSketch(Plane(origin=(284.7237854, 0, 0), x_dir=(0, 0, -1), z_dir=(1, 0, 0))):
        with Locations((82.387933846, -111.811340332)):
            Rectangle(SKETCH6_W, SKETCH6_H)
    extrude(amount=-BOSS_EXTRUDE15_DEPTH)


with BuildPart() as part_1:
    add(part.part)


with BuildPart() as part_2:
    # Boss-Extrude15: joined with boss_extrude15_tool
    add(part_1.part.fuse(boss_extrude15_tool.part, tol=0.00001))


solid = part_2.part
